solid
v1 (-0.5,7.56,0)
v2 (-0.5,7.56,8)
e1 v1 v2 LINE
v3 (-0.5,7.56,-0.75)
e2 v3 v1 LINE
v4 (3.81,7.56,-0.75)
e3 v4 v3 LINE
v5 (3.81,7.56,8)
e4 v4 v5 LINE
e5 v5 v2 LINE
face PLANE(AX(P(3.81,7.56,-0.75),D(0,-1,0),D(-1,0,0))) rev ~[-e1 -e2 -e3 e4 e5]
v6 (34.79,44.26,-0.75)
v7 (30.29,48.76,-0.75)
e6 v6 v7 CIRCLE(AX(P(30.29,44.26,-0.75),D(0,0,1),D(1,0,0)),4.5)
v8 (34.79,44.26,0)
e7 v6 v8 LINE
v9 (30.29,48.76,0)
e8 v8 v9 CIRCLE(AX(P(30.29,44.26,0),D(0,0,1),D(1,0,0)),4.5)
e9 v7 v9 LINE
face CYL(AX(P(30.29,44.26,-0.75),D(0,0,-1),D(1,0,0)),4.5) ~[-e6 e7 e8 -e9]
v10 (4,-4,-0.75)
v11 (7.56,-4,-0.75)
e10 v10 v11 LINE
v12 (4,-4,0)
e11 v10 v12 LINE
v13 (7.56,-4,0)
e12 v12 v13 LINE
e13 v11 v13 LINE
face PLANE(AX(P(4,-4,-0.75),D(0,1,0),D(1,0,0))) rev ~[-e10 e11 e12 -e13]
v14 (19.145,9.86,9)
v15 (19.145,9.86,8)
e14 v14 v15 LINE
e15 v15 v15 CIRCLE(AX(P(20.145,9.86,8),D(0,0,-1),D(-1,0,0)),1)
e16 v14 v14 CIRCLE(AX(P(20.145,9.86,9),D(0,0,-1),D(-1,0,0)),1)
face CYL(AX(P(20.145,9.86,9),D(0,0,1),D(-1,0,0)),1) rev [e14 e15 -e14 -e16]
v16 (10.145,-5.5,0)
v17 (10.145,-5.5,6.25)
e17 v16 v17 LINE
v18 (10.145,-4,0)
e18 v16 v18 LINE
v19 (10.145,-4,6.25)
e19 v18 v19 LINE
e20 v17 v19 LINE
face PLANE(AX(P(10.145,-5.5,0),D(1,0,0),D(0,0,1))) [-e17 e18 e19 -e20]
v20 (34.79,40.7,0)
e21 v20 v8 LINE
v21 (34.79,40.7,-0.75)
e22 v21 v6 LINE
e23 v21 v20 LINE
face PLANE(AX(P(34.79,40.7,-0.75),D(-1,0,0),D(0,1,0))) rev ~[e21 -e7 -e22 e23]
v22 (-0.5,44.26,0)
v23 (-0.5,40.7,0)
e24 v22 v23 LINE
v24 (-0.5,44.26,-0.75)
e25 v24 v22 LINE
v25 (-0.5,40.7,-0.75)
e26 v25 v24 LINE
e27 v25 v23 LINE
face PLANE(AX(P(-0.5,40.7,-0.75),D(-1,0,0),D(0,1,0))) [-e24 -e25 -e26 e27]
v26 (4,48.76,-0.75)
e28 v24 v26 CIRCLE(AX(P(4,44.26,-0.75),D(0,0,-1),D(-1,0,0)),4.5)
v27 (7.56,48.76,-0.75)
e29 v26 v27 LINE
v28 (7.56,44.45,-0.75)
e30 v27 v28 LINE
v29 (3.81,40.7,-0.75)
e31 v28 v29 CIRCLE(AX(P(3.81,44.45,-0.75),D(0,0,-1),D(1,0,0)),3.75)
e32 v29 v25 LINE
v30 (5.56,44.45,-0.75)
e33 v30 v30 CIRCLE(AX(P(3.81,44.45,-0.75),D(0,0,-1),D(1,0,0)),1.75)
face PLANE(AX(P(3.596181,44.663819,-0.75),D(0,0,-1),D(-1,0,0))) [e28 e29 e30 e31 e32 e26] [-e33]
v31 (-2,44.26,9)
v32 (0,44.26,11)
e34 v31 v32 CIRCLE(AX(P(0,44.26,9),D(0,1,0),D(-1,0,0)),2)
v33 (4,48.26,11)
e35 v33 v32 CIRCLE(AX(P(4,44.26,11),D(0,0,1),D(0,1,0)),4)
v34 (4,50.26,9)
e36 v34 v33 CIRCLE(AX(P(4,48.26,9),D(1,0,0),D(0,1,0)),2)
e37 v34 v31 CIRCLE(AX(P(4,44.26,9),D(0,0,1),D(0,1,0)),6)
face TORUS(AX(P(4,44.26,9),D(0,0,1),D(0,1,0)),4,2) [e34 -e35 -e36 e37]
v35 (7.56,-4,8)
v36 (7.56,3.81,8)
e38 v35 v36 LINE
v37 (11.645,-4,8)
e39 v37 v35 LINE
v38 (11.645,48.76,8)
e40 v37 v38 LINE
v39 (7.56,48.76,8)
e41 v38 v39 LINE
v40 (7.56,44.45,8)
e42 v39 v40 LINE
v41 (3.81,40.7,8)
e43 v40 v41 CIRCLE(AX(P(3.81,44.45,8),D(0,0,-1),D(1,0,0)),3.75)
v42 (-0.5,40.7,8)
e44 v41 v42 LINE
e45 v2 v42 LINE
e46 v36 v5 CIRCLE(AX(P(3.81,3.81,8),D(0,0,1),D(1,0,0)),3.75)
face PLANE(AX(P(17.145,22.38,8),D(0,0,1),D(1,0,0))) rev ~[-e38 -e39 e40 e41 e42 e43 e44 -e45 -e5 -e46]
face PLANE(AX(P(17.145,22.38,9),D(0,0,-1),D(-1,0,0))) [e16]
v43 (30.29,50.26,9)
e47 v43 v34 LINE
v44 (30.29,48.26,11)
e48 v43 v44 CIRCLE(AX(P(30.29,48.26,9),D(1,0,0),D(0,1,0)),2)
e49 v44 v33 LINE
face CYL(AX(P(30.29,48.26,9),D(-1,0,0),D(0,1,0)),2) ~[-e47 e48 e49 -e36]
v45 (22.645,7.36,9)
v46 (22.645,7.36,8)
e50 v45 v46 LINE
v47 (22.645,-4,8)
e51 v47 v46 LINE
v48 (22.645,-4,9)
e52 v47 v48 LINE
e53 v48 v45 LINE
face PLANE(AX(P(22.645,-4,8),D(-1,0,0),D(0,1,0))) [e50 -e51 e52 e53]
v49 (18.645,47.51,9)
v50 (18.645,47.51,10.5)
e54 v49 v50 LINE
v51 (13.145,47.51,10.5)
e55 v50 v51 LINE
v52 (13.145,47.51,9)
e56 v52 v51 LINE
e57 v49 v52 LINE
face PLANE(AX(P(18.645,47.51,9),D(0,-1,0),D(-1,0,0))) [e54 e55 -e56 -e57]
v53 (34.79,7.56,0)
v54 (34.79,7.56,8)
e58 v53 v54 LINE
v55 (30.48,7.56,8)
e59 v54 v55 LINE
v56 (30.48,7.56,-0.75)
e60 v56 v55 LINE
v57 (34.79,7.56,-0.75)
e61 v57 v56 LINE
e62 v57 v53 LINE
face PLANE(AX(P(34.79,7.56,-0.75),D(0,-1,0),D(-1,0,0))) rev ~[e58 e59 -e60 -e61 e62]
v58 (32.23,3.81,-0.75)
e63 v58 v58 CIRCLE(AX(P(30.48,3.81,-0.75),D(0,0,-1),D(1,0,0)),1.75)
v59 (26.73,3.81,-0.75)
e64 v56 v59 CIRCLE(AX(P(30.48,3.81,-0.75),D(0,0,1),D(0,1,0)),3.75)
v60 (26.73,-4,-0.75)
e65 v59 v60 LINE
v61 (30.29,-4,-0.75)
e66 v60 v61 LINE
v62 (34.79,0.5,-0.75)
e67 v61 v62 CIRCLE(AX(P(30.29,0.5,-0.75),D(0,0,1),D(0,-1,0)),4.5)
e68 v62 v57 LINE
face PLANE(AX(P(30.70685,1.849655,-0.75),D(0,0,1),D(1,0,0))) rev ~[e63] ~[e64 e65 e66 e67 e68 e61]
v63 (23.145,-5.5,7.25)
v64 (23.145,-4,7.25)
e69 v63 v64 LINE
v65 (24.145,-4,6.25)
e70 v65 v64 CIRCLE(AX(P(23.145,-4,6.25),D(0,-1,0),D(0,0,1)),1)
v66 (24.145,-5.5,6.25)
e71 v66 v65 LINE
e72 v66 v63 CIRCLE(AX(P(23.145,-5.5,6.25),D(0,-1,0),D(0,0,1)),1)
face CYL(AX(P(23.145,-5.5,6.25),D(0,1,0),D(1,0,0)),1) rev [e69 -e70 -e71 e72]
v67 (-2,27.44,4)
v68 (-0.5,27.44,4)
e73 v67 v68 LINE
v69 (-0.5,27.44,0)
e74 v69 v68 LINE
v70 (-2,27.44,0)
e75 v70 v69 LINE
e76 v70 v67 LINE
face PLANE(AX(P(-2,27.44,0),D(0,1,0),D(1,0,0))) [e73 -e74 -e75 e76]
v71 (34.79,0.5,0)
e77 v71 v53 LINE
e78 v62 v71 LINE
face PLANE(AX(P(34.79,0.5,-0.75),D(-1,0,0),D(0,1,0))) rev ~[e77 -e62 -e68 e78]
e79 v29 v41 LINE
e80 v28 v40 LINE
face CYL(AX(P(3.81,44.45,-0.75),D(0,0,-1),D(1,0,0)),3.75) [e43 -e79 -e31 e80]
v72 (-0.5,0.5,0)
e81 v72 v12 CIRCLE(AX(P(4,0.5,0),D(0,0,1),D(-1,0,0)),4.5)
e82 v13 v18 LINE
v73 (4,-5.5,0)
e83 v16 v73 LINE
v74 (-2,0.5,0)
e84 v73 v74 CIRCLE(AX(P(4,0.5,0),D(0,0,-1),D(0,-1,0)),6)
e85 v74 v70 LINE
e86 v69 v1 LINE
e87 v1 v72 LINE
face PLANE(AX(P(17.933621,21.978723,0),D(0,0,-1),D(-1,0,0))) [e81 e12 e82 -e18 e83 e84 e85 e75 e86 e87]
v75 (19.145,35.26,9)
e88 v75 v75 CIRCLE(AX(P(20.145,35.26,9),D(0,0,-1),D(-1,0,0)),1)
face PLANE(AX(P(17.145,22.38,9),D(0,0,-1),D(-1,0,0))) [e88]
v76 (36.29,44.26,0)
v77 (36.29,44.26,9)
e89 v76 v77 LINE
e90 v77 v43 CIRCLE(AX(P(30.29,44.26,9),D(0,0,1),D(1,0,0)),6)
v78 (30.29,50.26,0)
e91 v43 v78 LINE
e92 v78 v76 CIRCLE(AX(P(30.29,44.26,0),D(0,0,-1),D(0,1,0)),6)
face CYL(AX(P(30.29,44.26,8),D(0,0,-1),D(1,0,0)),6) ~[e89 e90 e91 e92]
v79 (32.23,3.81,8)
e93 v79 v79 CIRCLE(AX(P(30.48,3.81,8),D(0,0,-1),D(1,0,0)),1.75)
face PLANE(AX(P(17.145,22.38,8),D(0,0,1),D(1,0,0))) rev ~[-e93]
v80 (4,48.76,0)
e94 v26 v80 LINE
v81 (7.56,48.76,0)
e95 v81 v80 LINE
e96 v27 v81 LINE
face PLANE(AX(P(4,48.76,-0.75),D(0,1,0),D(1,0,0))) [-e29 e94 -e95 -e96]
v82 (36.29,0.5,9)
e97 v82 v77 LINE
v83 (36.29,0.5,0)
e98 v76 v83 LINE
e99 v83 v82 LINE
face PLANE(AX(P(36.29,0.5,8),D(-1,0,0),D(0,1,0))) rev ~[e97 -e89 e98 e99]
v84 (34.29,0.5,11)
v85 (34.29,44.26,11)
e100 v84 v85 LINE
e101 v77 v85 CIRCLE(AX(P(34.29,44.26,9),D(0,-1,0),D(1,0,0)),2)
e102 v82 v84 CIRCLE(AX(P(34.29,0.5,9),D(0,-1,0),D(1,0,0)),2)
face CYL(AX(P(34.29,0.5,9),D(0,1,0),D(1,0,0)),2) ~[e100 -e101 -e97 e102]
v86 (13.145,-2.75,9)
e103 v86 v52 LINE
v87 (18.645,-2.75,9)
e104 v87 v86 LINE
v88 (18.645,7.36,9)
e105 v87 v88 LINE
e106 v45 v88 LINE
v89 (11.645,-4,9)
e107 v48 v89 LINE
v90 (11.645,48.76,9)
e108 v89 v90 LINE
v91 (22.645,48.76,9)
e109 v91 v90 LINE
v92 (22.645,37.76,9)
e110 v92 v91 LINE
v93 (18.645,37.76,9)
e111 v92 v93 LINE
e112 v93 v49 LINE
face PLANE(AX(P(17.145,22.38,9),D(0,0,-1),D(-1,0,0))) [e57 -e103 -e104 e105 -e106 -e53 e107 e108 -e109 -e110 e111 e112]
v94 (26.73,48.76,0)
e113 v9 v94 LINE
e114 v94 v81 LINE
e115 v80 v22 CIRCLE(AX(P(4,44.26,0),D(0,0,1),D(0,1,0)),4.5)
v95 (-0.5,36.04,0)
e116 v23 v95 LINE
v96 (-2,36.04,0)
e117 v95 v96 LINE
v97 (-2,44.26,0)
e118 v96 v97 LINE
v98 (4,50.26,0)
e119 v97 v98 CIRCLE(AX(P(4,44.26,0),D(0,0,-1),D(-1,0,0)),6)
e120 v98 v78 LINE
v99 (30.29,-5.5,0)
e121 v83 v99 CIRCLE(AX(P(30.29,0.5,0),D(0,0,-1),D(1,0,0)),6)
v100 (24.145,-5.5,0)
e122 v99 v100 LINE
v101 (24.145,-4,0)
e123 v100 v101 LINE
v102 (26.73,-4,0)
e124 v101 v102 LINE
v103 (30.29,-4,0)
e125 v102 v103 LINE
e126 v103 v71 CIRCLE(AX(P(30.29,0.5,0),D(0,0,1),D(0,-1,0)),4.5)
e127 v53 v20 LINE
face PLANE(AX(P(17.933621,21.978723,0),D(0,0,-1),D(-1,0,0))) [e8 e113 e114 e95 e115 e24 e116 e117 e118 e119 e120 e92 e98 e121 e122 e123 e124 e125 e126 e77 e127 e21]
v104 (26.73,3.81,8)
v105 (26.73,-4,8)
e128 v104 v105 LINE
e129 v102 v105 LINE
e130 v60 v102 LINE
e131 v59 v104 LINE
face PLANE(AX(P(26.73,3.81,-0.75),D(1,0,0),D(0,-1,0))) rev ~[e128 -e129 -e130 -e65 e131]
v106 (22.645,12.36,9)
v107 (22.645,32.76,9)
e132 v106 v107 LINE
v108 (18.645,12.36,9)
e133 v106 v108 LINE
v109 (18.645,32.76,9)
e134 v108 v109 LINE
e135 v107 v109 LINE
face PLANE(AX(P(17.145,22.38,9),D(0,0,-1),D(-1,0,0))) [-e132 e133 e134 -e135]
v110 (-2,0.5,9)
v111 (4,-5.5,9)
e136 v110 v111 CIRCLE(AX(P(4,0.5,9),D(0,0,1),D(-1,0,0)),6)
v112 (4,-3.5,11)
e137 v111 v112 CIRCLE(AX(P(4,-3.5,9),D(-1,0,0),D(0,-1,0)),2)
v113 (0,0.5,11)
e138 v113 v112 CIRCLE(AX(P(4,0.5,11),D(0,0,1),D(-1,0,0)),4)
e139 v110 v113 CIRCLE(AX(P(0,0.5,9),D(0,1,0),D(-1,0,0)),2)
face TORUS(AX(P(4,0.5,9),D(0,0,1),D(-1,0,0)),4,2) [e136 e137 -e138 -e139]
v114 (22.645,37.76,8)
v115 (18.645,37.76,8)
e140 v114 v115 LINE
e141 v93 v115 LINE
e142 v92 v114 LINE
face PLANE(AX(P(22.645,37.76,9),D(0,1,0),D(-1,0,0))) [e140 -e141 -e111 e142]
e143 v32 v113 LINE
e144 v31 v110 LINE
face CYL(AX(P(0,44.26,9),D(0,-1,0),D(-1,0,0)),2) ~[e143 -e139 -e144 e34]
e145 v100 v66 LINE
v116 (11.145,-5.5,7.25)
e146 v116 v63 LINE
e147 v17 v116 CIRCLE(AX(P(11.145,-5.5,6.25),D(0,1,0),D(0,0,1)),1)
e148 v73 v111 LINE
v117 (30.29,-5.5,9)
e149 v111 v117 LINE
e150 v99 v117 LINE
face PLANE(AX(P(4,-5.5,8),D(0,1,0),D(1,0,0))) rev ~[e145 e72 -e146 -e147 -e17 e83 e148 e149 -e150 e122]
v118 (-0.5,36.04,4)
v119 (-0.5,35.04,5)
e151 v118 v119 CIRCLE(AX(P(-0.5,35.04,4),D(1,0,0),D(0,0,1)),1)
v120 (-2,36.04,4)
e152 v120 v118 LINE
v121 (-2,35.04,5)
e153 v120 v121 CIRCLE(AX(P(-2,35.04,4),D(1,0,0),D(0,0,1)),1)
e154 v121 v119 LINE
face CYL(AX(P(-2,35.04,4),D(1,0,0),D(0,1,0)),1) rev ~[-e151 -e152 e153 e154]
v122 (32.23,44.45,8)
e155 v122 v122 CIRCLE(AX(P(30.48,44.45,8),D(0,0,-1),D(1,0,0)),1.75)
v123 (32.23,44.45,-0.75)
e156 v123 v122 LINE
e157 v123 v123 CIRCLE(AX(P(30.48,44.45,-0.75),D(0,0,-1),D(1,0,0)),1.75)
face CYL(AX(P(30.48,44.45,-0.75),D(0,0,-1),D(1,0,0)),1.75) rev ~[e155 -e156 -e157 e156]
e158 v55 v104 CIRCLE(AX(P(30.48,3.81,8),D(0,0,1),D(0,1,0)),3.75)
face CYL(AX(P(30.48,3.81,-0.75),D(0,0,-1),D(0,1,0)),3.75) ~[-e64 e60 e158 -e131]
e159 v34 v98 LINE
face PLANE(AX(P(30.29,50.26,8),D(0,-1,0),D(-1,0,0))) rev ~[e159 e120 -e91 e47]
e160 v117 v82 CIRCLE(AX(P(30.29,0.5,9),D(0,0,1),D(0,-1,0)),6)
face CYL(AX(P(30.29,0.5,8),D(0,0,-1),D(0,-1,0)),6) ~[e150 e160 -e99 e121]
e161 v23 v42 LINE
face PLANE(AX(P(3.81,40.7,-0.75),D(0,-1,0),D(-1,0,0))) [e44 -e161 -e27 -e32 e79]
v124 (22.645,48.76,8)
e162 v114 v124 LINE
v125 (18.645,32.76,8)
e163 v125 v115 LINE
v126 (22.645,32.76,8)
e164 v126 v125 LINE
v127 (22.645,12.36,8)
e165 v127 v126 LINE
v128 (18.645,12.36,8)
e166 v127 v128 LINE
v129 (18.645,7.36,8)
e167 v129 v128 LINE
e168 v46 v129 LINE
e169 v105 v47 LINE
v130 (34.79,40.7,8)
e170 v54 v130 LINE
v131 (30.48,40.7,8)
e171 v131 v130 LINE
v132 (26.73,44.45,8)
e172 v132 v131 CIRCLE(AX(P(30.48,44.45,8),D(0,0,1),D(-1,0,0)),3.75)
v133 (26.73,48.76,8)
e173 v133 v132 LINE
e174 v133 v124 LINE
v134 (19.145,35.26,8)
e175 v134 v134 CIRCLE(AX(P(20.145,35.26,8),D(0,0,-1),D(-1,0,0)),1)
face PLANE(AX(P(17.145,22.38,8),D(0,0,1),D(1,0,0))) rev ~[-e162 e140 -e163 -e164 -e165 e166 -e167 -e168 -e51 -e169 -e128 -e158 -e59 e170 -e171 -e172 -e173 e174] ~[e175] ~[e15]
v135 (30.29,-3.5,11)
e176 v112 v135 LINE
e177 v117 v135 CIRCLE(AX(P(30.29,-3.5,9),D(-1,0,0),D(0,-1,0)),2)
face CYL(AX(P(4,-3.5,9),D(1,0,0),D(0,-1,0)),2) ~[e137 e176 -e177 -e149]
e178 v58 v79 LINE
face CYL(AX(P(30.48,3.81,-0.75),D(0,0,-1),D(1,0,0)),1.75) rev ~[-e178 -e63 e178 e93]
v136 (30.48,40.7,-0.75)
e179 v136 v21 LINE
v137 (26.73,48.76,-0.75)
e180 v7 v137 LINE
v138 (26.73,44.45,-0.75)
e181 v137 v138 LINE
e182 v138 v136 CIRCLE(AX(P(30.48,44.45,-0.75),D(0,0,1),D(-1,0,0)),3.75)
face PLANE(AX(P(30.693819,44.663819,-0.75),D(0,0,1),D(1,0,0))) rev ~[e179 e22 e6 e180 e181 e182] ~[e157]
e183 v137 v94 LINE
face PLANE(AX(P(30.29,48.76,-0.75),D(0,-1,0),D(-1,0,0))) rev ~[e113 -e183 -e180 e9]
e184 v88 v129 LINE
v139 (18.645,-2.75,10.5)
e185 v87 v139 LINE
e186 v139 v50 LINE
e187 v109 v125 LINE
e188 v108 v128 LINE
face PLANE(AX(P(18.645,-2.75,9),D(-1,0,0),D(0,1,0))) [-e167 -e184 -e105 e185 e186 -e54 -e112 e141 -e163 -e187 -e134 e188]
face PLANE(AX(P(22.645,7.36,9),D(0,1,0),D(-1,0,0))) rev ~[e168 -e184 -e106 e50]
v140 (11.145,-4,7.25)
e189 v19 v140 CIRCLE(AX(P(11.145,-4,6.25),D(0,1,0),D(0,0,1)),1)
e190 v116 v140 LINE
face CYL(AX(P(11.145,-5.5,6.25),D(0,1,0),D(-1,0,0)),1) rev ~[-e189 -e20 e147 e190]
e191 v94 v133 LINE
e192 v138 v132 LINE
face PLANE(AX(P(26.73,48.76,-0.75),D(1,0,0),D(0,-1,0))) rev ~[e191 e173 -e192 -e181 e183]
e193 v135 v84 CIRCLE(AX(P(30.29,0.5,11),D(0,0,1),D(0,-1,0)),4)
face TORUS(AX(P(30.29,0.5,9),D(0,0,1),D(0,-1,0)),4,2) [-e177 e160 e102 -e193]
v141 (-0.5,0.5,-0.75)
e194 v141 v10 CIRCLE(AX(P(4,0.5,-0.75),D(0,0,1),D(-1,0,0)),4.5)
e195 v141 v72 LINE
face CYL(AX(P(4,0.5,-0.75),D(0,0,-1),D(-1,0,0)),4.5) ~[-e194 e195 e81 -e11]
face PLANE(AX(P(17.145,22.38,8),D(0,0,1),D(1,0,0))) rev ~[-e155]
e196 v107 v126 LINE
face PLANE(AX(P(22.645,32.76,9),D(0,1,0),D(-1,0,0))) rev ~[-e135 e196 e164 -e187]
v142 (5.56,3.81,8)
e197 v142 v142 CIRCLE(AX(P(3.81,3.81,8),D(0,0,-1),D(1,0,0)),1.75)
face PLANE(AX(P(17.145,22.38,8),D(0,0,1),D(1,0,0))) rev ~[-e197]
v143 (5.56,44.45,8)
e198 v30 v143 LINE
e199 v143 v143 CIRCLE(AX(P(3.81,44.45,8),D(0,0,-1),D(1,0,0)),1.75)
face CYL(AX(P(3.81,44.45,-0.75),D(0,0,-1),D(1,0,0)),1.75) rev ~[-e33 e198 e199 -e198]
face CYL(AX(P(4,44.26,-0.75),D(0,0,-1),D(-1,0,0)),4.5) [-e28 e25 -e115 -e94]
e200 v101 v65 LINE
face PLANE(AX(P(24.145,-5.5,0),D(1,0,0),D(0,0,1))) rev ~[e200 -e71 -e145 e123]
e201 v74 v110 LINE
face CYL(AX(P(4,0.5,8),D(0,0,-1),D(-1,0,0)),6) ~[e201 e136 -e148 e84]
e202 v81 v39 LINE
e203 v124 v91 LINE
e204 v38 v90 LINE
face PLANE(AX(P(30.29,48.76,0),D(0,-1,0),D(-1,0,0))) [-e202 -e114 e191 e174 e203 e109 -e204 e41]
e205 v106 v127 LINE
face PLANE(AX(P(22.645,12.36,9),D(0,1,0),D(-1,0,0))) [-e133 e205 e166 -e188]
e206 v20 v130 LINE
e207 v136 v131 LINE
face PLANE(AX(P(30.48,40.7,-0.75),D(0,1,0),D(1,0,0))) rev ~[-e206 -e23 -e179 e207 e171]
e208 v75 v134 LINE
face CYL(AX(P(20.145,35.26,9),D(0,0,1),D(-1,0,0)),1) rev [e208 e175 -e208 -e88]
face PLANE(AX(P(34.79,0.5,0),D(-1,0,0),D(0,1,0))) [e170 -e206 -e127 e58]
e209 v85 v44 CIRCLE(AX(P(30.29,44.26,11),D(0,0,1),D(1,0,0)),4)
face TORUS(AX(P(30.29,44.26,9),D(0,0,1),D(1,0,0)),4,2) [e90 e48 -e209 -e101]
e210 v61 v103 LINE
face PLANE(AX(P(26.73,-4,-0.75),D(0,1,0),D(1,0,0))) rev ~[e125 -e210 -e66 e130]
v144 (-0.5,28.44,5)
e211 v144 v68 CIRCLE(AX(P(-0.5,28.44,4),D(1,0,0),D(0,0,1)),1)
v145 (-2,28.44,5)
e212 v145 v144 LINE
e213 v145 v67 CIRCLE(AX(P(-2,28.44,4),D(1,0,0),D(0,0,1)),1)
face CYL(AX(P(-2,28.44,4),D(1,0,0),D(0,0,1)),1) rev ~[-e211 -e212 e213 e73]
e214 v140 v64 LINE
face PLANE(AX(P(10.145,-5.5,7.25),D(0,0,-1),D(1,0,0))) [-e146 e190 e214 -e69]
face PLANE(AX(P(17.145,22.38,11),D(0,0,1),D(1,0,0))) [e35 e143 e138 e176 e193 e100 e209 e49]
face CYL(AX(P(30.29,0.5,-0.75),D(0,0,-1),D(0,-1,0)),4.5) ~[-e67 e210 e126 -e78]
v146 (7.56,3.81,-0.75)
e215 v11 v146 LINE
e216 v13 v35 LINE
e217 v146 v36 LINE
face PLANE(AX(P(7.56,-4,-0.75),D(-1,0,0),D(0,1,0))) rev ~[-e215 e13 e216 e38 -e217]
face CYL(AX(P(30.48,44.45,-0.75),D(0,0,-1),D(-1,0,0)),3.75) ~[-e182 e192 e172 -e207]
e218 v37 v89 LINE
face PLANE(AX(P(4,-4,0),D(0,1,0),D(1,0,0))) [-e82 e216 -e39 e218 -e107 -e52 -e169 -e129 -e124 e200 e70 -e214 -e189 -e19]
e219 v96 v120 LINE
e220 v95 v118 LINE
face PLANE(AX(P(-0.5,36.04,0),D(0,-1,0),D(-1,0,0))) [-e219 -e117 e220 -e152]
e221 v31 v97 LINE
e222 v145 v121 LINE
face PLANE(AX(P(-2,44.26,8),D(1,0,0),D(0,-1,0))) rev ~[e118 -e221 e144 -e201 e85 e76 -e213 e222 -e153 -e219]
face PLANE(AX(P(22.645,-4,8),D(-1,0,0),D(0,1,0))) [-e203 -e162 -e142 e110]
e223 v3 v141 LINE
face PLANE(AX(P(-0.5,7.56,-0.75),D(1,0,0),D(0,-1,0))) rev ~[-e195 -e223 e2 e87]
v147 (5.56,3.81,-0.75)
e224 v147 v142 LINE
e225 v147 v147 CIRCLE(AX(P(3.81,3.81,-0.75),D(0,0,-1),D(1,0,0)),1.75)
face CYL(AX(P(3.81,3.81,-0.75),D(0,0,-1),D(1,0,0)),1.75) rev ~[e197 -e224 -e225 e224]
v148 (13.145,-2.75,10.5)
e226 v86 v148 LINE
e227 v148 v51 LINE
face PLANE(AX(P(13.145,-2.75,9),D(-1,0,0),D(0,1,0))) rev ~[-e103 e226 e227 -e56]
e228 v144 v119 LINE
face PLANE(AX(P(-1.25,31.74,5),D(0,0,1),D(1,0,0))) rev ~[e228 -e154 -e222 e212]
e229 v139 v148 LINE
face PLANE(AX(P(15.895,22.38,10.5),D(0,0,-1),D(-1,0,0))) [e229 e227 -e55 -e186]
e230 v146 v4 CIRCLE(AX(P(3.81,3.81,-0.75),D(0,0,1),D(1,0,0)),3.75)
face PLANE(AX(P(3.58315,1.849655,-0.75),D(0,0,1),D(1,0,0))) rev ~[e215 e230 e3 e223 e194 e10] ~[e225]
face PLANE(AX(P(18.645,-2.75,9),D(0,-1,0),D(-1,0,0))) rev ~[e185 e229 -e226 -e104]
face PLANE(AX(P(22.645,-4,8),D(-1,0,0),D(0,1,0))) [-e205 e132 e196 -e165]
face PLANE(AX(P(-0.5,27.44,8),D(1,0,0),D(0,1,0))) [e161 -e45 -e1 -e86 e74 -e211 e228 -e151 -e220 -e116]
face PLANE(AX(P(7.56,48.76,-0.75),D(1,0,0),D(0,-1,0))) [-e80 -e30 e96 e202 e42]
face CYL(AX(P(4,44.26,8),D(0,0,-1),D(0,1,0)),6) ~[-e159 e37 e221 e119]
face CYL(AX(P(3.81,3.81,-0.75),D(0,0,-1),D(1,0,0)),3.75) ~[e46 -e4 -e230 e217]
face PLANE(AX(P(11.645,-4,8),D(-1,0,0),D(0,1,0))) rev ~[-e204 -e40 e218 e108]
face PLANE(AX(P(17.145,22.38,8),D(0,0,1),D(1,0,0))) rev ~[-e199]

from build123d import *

# Parameters (mm, degrees)
BOSS_EXTRUDE1_DEPTH = 8
SKETCH12_W          = 1.5
SKETCH12_H          = 8.6
BOSS_EXTRUDE8_DEPTH = 3
BOSS_EXTRUDE5_DEPTH = 3
BOSS_EXTRUDE6_START = 8.75
SKETCH10_R          = 1.75
BOSS_EXTRUDE6_DEPTH = 8.75
SKETCH11_W          = 14.1
SKETCH11_H          = 1.5
BOSS_EXTRUDE7_DEPTH = 1.5
FILLET1_R           = 2
CUT_EXTRUDE2_REACH  = 69.432
SKETCH13_W          = 14
SKETCH13_H          = 7.25
FILLET2_R           = 1
SKETCH14_W          = 11
SKETCH14_H          = 52.76
CUT_EXTRUDE3_DEPTH  = 1
SKETCH15_W          = 5.5
SKETCH15_H          = 50.26
CUT_EXTRUDE4_DEPTH  = 1.5
SKETCH17_W          = 4
SKETCH17_H          = 5
SKETCH17_R          = 1
BOSS_EXTRUDE9_DEPTH = 1


with BuildPart() as part:
    # Sketch1 → Boss-Extrude1 (new body)
    with BuildSketch(Plane.XY):
        with BuildLine():
            Line((-0.5, 27.44), (-0.5, 0.5))
            ThreePointArc((-0.5, 0.5), (0.818019485, -2.681980515), (4, -4))
            Line((4, -4), (30.29, -4))
            ThreePointArc((30.29, -4), (33.471980515, -2.681980515), (34.79, 0.5))
            Line((34.79, 0.5), (34.79, 44.26))
            ThreePointArc((34.79, 44.26), (33.471980515, 47.441980515), (30.29, 48.76))
            Line((30.29, 48.76), (4, 48.76))
            ThreePointArc((4, 48.76), (0.818019485, 47.441980515), (-0.5, 44.26))
            Line((-0.5, 44.26), (-0.5, 36.04))
            Line((-0.5, 36.04), (-2, 36.04))
            Line((-2, 36.04), (-2, 44.26))
            ThreePointArc((-2, 44.26), (-0.242640687, 48.502640687), (4, 50.26))
            Line((4, 50.26), (30.29, 50.26))
            ThreePointArc((30.29, 50.26), (34.532640687, 48.502640687), (36.29, 44.26))
            Line((36.29, 44.26), (36.29, 0.5))
            ThreePointArc((36.29, 0.5), (34.532640687, -3.742640687), (30.29, -5.5))
            Line((30.29, -5.5), (4, -5.5))
            ThreePointArc((4, -5.5), (-0.242640687, -3.742640687), (-2, 0.5))
            Line((-2, 0.5), (-2, 27.44))
            Line((-2, 27.44), (-0.5, 27.44))
        make_face()
    extrude(amount=BOSS_EXTRUDE1_DEPTH)

    # Sketch12 → Boss-Extrude8 (add)
    with BuildSketch(Plane.XY.offset(8)):
        with Locations((-1.25, 31.74)):
            Rectangle(SKETCH12_W, SKETCH12_H)
    extrude(amount=-BOSS_EXTRUDE8_DEPTH)

    # Sketch8 → Boss-Extrude5 (add)
    with BuildSketch(Plane.XY.offset(8)):
        with BuildLine():
            Line((-2, 44.26), (-2, 0.5))
            ThreePointArc((-2, 0.5), (-0.242640687, -3.742640687), (4, -5.5))
            Line((4, -5.5), (30.29, -5.5))
            ThreePointArc((30.29, -5.5), (34.532640687, -3.742640687), (36.29, 0.5))
            Line((36.29, 0.5), (36.29, 44.26))
            ThreePointArc((36.29, 44.26), (34.532640687, 48.502640687), (30.29, 50.26))
            Line((30.29, 50.26), (4, 50.26))
            ThreePointArc((4, 50.26), (-0.242640687, 48.502640687), (-2, 44.26))
        make_face()
    extrude(amount=BOSS_EXTRUDE5_DEPTH)

    # Sketch10 → Boss-Extrude6 (add)
    # profile 1 of 4: a face of its own
    with BuildSketch(Plane(origin=(0, 0, 8), x_dir=(-1, 0, 0), z_dir=(0, 0, -1)).offset(BOSS_EXTRUDE6_START)):
        with BuildLine():
            Line((-30.29, 48.76), (-26.73, 48.76))
            Line((-26.73, 48.76), (-26.73, 44.45))
            ThreePointArc((-26.73, 44.45), (-27.828349571, 41.798349571), (-30.48, 40.7))
            Line((-30.48, 40.7), (-34.79, 40.7))
            Line((-34.79, 40.7), (-34.79, 44.26))
            ThreePointArc((-34.79, 44.26), (-33.471980515, 47.441980515), (-30.29, 48.76))
        make_face()
        with Locations(Location((-30.48, 44.45, 0), (0, 0, 180))):
            Circle(SKETCH10_R, mode=Mode.SUBTRACT)
    # profile 2 of 4: a face of its own
    with BuildSketch(Plane(origin=(0, 0, 8), x_dir=(-1, 0, 0), z_dir=(0, 0, -1)).offset(BOSS_EXTRUDE6_START)):
        with BuildLine():
            Line((-3.81, 40.7), (0.5, 40.7))
            Line((0.5, 40.7), (0.5, 44.26))
            ThreePointArc((0.5, 44.26), (-0.818019485, 47.441980515), (-4, 48.76))
            Line((-4, 48.76), (-7.56, 48.76))
            Line((-7.56, 48.76), (-7.56, 44.45))
            ThreePointArc((-7.56, 44.45), (-6.461650429, 41.798349571), (-3.81, 40.7))
        make_face()
        with Locations(Location((-3.81, 44.45, 0), (0, 0, 180))):
            Circle(SKETCH10_R, mode=Mode.SUBTRACT)
    # profile 3 of 4: a face of its own
    with BuildSketch(Plane(origin=(0, 0, 8), x_dir=(-1, 0, 0), z_dir=(0, 0, -1)).offset(BOSS_EXTRUDE6_START)):
        with BuildLine():
            Line((0.5, 7.56), (0.5, 0.5))
            ThreePointArc((0.5, 0.5), (-0.818019485, -2.681980515), (-4, -4))
            Line((-4, -4), (-7.56, -4))
            Line((-7.56, -4), (-7.56, 3.81))
            ThreePointArc((-7.56, 3.81), (-6.461650429, 6.461650429), (-3.81, 7.56))
            Line((-3.81, 7.56), (0.5, 7.56))
        make_face()
        with Locations(Location((-3.81, 3.81, 0), (0, 0, 180))):
            Circle(SKETCH10_R, mode=Mode.SUBTRACT)
    # profile 4 of 4: a face of its own
    with BuildSketch(Plane(origin=(0, 0, 8), x_dir=(-1, 0, 0), z_dir=(0, 0, -1)).offset(BOSS_EXTRUDE6_START)):
        with BuildLine():
            Line((-26.73, -4), (-30.29, -4))
            ThreePointArc((-30.29, -4), (-33.471980515, -2.681980515), (-34.79, 0.5))
            Line((-34.79, 0.5), (-34.79, 7.56))
            Line((-34.79, 7.56), (-30.48, 7.56))
            ThreePointArc((-30.48, 7.56), (-27.828349571, 6.461650429), (-26.73, 3.81))
            Line((-26.73, 3.81), (-26.73, -4))
        make_face()
        with Locations(Location((-30.48, 3.81, 0), (0, 0, 180))):
            Circle(SKETCH10_R, mode=Mode.SUBTRACT)
    extrude(amount=-BOSS_EXTRUDE6_DEPTH)

    # Sketch11 → Boss-Extrude7 (add)
    with BuildSketch(Plane(origin=(0, 0, 8), x_dir=(-1, 0, 0), z_dir=(0, 0, -1))):
        with Locations((-17.145, -4.75)):
            Rectangle(SKETCH11_W, SKETCH11_H)
    extrude(amount=BOSS_EXTRUDE7_DEPTH)

    # Fillet1
    fillet1_edges = [part.edges().sort_by_distance(p)[0] for p in [
        (17.145, -5.5, 11),
        (36.29, 22.38, 11),
        (34.532640687, 48.502640687, 11),
        (17.145, 50.26, 11),
        (-0.242640687, 48.502640687, 11),
        (-2, 22.38, 11),
        (-0.242640687, -3.742640687, 11),
        (34.532640687, -3.742640687, 11),
    ]]
    fillet(fillet1_edges, radius=FILLET1_R)

    # Sketch13 → Cut-Extrude2 (cut, up to next)
    with BuildSketch(Plane.XZ.offset(5.5), mode=Mode.PRIVATE) as cut_extrude2_sk1:
        with Locations((17.145, 3.625)):
            Rectangle(SKETCH13_W, SKETCH13_H)
    cut_extrude2_tool1 = extrude(cut_extrude2_sk1.sketch, amount=-CUT_EXTRUDE2_REACH, mode=Mode.PRIVATE) & part.part
    add(cut_extrude2_tool1.solids().sort_by_distance((17.145, -5.5, 3.625))[0], mode=Mode.SUBTRACT)

    # Fillet2
    fillet2_edges = [part.edges().sort_by_distance(p)[0] for p in [
        (-1.25, 36.04, 5),
        (-1.25, 27.44, 5),
        (10.145, -4.75, 7.25),
        (24.145, -4.75, 7.25),
    ]]
    fillet(fillet2_edges, radius=FILLET2_R)

    # Sketch14 → Cut-Extrude3 (cut)
    with BuildSketch(Plane(origin=(0, 0, 8), x_dir=(-1, 0, 0), z_dir=(0, 0, -1))):
        with Locations((-17.145, 22.38)):
            Rectangle(SKETCH14_W, SKETCH14_H)
    extrude(amount=-CUT_EXTRUDE3_DEPTH, mode=Mode.SUBTRACT)

    # Sketch15 → Cut-Extrude4 (cut)
    with BuildSketch(Plane(origin=(0, 0, 9), x_dir=(-1, 0, 0), z_dir=(0, 0, -1))):
        with Locations((-15.895, 22.38)):
            Rectangle(SKETCH15_W, SKETCH15_H)
    extrude(amount=-CUT_EXTRUDE4_DEPTH, mode=Mode.SUBTRACT)

    # Sketch17 → Boss-Extrude9 (add)
    # profile 1 of 2: a face of its own
    with BuildSketch(Plane(origin=(0, 0, 9), x_dir=(-1, 0, 0), z_dir=(0, 0, -1))):
        with Locations((-20.645, 9.86)):
            Rectangle(SKETCH17_W, SKETCH17_H)
        with Locations((-20.145, 9.86)):
            Circle(SKETCH17_R, mode=Mode.SUBTRACT)
    # profile 2 of 2: a face of its own
    with BuildSketch(Plane(origin=(0, 0, 9), x_dir=(-1, 0, 0), z_dir=(0, 0, -1))):
        with Locations((-20.645, 35.26)):
            Rectangle(SKETCH17_W, SKETCH17_H)
        with Locations((-20.145, 35.26)):
            Circle(SKETCH17_R, mode=Mode.SUBTRACT)
    extrude(amount=BOSS_EXTRUDE9_DEPTH)


solid = part.part
